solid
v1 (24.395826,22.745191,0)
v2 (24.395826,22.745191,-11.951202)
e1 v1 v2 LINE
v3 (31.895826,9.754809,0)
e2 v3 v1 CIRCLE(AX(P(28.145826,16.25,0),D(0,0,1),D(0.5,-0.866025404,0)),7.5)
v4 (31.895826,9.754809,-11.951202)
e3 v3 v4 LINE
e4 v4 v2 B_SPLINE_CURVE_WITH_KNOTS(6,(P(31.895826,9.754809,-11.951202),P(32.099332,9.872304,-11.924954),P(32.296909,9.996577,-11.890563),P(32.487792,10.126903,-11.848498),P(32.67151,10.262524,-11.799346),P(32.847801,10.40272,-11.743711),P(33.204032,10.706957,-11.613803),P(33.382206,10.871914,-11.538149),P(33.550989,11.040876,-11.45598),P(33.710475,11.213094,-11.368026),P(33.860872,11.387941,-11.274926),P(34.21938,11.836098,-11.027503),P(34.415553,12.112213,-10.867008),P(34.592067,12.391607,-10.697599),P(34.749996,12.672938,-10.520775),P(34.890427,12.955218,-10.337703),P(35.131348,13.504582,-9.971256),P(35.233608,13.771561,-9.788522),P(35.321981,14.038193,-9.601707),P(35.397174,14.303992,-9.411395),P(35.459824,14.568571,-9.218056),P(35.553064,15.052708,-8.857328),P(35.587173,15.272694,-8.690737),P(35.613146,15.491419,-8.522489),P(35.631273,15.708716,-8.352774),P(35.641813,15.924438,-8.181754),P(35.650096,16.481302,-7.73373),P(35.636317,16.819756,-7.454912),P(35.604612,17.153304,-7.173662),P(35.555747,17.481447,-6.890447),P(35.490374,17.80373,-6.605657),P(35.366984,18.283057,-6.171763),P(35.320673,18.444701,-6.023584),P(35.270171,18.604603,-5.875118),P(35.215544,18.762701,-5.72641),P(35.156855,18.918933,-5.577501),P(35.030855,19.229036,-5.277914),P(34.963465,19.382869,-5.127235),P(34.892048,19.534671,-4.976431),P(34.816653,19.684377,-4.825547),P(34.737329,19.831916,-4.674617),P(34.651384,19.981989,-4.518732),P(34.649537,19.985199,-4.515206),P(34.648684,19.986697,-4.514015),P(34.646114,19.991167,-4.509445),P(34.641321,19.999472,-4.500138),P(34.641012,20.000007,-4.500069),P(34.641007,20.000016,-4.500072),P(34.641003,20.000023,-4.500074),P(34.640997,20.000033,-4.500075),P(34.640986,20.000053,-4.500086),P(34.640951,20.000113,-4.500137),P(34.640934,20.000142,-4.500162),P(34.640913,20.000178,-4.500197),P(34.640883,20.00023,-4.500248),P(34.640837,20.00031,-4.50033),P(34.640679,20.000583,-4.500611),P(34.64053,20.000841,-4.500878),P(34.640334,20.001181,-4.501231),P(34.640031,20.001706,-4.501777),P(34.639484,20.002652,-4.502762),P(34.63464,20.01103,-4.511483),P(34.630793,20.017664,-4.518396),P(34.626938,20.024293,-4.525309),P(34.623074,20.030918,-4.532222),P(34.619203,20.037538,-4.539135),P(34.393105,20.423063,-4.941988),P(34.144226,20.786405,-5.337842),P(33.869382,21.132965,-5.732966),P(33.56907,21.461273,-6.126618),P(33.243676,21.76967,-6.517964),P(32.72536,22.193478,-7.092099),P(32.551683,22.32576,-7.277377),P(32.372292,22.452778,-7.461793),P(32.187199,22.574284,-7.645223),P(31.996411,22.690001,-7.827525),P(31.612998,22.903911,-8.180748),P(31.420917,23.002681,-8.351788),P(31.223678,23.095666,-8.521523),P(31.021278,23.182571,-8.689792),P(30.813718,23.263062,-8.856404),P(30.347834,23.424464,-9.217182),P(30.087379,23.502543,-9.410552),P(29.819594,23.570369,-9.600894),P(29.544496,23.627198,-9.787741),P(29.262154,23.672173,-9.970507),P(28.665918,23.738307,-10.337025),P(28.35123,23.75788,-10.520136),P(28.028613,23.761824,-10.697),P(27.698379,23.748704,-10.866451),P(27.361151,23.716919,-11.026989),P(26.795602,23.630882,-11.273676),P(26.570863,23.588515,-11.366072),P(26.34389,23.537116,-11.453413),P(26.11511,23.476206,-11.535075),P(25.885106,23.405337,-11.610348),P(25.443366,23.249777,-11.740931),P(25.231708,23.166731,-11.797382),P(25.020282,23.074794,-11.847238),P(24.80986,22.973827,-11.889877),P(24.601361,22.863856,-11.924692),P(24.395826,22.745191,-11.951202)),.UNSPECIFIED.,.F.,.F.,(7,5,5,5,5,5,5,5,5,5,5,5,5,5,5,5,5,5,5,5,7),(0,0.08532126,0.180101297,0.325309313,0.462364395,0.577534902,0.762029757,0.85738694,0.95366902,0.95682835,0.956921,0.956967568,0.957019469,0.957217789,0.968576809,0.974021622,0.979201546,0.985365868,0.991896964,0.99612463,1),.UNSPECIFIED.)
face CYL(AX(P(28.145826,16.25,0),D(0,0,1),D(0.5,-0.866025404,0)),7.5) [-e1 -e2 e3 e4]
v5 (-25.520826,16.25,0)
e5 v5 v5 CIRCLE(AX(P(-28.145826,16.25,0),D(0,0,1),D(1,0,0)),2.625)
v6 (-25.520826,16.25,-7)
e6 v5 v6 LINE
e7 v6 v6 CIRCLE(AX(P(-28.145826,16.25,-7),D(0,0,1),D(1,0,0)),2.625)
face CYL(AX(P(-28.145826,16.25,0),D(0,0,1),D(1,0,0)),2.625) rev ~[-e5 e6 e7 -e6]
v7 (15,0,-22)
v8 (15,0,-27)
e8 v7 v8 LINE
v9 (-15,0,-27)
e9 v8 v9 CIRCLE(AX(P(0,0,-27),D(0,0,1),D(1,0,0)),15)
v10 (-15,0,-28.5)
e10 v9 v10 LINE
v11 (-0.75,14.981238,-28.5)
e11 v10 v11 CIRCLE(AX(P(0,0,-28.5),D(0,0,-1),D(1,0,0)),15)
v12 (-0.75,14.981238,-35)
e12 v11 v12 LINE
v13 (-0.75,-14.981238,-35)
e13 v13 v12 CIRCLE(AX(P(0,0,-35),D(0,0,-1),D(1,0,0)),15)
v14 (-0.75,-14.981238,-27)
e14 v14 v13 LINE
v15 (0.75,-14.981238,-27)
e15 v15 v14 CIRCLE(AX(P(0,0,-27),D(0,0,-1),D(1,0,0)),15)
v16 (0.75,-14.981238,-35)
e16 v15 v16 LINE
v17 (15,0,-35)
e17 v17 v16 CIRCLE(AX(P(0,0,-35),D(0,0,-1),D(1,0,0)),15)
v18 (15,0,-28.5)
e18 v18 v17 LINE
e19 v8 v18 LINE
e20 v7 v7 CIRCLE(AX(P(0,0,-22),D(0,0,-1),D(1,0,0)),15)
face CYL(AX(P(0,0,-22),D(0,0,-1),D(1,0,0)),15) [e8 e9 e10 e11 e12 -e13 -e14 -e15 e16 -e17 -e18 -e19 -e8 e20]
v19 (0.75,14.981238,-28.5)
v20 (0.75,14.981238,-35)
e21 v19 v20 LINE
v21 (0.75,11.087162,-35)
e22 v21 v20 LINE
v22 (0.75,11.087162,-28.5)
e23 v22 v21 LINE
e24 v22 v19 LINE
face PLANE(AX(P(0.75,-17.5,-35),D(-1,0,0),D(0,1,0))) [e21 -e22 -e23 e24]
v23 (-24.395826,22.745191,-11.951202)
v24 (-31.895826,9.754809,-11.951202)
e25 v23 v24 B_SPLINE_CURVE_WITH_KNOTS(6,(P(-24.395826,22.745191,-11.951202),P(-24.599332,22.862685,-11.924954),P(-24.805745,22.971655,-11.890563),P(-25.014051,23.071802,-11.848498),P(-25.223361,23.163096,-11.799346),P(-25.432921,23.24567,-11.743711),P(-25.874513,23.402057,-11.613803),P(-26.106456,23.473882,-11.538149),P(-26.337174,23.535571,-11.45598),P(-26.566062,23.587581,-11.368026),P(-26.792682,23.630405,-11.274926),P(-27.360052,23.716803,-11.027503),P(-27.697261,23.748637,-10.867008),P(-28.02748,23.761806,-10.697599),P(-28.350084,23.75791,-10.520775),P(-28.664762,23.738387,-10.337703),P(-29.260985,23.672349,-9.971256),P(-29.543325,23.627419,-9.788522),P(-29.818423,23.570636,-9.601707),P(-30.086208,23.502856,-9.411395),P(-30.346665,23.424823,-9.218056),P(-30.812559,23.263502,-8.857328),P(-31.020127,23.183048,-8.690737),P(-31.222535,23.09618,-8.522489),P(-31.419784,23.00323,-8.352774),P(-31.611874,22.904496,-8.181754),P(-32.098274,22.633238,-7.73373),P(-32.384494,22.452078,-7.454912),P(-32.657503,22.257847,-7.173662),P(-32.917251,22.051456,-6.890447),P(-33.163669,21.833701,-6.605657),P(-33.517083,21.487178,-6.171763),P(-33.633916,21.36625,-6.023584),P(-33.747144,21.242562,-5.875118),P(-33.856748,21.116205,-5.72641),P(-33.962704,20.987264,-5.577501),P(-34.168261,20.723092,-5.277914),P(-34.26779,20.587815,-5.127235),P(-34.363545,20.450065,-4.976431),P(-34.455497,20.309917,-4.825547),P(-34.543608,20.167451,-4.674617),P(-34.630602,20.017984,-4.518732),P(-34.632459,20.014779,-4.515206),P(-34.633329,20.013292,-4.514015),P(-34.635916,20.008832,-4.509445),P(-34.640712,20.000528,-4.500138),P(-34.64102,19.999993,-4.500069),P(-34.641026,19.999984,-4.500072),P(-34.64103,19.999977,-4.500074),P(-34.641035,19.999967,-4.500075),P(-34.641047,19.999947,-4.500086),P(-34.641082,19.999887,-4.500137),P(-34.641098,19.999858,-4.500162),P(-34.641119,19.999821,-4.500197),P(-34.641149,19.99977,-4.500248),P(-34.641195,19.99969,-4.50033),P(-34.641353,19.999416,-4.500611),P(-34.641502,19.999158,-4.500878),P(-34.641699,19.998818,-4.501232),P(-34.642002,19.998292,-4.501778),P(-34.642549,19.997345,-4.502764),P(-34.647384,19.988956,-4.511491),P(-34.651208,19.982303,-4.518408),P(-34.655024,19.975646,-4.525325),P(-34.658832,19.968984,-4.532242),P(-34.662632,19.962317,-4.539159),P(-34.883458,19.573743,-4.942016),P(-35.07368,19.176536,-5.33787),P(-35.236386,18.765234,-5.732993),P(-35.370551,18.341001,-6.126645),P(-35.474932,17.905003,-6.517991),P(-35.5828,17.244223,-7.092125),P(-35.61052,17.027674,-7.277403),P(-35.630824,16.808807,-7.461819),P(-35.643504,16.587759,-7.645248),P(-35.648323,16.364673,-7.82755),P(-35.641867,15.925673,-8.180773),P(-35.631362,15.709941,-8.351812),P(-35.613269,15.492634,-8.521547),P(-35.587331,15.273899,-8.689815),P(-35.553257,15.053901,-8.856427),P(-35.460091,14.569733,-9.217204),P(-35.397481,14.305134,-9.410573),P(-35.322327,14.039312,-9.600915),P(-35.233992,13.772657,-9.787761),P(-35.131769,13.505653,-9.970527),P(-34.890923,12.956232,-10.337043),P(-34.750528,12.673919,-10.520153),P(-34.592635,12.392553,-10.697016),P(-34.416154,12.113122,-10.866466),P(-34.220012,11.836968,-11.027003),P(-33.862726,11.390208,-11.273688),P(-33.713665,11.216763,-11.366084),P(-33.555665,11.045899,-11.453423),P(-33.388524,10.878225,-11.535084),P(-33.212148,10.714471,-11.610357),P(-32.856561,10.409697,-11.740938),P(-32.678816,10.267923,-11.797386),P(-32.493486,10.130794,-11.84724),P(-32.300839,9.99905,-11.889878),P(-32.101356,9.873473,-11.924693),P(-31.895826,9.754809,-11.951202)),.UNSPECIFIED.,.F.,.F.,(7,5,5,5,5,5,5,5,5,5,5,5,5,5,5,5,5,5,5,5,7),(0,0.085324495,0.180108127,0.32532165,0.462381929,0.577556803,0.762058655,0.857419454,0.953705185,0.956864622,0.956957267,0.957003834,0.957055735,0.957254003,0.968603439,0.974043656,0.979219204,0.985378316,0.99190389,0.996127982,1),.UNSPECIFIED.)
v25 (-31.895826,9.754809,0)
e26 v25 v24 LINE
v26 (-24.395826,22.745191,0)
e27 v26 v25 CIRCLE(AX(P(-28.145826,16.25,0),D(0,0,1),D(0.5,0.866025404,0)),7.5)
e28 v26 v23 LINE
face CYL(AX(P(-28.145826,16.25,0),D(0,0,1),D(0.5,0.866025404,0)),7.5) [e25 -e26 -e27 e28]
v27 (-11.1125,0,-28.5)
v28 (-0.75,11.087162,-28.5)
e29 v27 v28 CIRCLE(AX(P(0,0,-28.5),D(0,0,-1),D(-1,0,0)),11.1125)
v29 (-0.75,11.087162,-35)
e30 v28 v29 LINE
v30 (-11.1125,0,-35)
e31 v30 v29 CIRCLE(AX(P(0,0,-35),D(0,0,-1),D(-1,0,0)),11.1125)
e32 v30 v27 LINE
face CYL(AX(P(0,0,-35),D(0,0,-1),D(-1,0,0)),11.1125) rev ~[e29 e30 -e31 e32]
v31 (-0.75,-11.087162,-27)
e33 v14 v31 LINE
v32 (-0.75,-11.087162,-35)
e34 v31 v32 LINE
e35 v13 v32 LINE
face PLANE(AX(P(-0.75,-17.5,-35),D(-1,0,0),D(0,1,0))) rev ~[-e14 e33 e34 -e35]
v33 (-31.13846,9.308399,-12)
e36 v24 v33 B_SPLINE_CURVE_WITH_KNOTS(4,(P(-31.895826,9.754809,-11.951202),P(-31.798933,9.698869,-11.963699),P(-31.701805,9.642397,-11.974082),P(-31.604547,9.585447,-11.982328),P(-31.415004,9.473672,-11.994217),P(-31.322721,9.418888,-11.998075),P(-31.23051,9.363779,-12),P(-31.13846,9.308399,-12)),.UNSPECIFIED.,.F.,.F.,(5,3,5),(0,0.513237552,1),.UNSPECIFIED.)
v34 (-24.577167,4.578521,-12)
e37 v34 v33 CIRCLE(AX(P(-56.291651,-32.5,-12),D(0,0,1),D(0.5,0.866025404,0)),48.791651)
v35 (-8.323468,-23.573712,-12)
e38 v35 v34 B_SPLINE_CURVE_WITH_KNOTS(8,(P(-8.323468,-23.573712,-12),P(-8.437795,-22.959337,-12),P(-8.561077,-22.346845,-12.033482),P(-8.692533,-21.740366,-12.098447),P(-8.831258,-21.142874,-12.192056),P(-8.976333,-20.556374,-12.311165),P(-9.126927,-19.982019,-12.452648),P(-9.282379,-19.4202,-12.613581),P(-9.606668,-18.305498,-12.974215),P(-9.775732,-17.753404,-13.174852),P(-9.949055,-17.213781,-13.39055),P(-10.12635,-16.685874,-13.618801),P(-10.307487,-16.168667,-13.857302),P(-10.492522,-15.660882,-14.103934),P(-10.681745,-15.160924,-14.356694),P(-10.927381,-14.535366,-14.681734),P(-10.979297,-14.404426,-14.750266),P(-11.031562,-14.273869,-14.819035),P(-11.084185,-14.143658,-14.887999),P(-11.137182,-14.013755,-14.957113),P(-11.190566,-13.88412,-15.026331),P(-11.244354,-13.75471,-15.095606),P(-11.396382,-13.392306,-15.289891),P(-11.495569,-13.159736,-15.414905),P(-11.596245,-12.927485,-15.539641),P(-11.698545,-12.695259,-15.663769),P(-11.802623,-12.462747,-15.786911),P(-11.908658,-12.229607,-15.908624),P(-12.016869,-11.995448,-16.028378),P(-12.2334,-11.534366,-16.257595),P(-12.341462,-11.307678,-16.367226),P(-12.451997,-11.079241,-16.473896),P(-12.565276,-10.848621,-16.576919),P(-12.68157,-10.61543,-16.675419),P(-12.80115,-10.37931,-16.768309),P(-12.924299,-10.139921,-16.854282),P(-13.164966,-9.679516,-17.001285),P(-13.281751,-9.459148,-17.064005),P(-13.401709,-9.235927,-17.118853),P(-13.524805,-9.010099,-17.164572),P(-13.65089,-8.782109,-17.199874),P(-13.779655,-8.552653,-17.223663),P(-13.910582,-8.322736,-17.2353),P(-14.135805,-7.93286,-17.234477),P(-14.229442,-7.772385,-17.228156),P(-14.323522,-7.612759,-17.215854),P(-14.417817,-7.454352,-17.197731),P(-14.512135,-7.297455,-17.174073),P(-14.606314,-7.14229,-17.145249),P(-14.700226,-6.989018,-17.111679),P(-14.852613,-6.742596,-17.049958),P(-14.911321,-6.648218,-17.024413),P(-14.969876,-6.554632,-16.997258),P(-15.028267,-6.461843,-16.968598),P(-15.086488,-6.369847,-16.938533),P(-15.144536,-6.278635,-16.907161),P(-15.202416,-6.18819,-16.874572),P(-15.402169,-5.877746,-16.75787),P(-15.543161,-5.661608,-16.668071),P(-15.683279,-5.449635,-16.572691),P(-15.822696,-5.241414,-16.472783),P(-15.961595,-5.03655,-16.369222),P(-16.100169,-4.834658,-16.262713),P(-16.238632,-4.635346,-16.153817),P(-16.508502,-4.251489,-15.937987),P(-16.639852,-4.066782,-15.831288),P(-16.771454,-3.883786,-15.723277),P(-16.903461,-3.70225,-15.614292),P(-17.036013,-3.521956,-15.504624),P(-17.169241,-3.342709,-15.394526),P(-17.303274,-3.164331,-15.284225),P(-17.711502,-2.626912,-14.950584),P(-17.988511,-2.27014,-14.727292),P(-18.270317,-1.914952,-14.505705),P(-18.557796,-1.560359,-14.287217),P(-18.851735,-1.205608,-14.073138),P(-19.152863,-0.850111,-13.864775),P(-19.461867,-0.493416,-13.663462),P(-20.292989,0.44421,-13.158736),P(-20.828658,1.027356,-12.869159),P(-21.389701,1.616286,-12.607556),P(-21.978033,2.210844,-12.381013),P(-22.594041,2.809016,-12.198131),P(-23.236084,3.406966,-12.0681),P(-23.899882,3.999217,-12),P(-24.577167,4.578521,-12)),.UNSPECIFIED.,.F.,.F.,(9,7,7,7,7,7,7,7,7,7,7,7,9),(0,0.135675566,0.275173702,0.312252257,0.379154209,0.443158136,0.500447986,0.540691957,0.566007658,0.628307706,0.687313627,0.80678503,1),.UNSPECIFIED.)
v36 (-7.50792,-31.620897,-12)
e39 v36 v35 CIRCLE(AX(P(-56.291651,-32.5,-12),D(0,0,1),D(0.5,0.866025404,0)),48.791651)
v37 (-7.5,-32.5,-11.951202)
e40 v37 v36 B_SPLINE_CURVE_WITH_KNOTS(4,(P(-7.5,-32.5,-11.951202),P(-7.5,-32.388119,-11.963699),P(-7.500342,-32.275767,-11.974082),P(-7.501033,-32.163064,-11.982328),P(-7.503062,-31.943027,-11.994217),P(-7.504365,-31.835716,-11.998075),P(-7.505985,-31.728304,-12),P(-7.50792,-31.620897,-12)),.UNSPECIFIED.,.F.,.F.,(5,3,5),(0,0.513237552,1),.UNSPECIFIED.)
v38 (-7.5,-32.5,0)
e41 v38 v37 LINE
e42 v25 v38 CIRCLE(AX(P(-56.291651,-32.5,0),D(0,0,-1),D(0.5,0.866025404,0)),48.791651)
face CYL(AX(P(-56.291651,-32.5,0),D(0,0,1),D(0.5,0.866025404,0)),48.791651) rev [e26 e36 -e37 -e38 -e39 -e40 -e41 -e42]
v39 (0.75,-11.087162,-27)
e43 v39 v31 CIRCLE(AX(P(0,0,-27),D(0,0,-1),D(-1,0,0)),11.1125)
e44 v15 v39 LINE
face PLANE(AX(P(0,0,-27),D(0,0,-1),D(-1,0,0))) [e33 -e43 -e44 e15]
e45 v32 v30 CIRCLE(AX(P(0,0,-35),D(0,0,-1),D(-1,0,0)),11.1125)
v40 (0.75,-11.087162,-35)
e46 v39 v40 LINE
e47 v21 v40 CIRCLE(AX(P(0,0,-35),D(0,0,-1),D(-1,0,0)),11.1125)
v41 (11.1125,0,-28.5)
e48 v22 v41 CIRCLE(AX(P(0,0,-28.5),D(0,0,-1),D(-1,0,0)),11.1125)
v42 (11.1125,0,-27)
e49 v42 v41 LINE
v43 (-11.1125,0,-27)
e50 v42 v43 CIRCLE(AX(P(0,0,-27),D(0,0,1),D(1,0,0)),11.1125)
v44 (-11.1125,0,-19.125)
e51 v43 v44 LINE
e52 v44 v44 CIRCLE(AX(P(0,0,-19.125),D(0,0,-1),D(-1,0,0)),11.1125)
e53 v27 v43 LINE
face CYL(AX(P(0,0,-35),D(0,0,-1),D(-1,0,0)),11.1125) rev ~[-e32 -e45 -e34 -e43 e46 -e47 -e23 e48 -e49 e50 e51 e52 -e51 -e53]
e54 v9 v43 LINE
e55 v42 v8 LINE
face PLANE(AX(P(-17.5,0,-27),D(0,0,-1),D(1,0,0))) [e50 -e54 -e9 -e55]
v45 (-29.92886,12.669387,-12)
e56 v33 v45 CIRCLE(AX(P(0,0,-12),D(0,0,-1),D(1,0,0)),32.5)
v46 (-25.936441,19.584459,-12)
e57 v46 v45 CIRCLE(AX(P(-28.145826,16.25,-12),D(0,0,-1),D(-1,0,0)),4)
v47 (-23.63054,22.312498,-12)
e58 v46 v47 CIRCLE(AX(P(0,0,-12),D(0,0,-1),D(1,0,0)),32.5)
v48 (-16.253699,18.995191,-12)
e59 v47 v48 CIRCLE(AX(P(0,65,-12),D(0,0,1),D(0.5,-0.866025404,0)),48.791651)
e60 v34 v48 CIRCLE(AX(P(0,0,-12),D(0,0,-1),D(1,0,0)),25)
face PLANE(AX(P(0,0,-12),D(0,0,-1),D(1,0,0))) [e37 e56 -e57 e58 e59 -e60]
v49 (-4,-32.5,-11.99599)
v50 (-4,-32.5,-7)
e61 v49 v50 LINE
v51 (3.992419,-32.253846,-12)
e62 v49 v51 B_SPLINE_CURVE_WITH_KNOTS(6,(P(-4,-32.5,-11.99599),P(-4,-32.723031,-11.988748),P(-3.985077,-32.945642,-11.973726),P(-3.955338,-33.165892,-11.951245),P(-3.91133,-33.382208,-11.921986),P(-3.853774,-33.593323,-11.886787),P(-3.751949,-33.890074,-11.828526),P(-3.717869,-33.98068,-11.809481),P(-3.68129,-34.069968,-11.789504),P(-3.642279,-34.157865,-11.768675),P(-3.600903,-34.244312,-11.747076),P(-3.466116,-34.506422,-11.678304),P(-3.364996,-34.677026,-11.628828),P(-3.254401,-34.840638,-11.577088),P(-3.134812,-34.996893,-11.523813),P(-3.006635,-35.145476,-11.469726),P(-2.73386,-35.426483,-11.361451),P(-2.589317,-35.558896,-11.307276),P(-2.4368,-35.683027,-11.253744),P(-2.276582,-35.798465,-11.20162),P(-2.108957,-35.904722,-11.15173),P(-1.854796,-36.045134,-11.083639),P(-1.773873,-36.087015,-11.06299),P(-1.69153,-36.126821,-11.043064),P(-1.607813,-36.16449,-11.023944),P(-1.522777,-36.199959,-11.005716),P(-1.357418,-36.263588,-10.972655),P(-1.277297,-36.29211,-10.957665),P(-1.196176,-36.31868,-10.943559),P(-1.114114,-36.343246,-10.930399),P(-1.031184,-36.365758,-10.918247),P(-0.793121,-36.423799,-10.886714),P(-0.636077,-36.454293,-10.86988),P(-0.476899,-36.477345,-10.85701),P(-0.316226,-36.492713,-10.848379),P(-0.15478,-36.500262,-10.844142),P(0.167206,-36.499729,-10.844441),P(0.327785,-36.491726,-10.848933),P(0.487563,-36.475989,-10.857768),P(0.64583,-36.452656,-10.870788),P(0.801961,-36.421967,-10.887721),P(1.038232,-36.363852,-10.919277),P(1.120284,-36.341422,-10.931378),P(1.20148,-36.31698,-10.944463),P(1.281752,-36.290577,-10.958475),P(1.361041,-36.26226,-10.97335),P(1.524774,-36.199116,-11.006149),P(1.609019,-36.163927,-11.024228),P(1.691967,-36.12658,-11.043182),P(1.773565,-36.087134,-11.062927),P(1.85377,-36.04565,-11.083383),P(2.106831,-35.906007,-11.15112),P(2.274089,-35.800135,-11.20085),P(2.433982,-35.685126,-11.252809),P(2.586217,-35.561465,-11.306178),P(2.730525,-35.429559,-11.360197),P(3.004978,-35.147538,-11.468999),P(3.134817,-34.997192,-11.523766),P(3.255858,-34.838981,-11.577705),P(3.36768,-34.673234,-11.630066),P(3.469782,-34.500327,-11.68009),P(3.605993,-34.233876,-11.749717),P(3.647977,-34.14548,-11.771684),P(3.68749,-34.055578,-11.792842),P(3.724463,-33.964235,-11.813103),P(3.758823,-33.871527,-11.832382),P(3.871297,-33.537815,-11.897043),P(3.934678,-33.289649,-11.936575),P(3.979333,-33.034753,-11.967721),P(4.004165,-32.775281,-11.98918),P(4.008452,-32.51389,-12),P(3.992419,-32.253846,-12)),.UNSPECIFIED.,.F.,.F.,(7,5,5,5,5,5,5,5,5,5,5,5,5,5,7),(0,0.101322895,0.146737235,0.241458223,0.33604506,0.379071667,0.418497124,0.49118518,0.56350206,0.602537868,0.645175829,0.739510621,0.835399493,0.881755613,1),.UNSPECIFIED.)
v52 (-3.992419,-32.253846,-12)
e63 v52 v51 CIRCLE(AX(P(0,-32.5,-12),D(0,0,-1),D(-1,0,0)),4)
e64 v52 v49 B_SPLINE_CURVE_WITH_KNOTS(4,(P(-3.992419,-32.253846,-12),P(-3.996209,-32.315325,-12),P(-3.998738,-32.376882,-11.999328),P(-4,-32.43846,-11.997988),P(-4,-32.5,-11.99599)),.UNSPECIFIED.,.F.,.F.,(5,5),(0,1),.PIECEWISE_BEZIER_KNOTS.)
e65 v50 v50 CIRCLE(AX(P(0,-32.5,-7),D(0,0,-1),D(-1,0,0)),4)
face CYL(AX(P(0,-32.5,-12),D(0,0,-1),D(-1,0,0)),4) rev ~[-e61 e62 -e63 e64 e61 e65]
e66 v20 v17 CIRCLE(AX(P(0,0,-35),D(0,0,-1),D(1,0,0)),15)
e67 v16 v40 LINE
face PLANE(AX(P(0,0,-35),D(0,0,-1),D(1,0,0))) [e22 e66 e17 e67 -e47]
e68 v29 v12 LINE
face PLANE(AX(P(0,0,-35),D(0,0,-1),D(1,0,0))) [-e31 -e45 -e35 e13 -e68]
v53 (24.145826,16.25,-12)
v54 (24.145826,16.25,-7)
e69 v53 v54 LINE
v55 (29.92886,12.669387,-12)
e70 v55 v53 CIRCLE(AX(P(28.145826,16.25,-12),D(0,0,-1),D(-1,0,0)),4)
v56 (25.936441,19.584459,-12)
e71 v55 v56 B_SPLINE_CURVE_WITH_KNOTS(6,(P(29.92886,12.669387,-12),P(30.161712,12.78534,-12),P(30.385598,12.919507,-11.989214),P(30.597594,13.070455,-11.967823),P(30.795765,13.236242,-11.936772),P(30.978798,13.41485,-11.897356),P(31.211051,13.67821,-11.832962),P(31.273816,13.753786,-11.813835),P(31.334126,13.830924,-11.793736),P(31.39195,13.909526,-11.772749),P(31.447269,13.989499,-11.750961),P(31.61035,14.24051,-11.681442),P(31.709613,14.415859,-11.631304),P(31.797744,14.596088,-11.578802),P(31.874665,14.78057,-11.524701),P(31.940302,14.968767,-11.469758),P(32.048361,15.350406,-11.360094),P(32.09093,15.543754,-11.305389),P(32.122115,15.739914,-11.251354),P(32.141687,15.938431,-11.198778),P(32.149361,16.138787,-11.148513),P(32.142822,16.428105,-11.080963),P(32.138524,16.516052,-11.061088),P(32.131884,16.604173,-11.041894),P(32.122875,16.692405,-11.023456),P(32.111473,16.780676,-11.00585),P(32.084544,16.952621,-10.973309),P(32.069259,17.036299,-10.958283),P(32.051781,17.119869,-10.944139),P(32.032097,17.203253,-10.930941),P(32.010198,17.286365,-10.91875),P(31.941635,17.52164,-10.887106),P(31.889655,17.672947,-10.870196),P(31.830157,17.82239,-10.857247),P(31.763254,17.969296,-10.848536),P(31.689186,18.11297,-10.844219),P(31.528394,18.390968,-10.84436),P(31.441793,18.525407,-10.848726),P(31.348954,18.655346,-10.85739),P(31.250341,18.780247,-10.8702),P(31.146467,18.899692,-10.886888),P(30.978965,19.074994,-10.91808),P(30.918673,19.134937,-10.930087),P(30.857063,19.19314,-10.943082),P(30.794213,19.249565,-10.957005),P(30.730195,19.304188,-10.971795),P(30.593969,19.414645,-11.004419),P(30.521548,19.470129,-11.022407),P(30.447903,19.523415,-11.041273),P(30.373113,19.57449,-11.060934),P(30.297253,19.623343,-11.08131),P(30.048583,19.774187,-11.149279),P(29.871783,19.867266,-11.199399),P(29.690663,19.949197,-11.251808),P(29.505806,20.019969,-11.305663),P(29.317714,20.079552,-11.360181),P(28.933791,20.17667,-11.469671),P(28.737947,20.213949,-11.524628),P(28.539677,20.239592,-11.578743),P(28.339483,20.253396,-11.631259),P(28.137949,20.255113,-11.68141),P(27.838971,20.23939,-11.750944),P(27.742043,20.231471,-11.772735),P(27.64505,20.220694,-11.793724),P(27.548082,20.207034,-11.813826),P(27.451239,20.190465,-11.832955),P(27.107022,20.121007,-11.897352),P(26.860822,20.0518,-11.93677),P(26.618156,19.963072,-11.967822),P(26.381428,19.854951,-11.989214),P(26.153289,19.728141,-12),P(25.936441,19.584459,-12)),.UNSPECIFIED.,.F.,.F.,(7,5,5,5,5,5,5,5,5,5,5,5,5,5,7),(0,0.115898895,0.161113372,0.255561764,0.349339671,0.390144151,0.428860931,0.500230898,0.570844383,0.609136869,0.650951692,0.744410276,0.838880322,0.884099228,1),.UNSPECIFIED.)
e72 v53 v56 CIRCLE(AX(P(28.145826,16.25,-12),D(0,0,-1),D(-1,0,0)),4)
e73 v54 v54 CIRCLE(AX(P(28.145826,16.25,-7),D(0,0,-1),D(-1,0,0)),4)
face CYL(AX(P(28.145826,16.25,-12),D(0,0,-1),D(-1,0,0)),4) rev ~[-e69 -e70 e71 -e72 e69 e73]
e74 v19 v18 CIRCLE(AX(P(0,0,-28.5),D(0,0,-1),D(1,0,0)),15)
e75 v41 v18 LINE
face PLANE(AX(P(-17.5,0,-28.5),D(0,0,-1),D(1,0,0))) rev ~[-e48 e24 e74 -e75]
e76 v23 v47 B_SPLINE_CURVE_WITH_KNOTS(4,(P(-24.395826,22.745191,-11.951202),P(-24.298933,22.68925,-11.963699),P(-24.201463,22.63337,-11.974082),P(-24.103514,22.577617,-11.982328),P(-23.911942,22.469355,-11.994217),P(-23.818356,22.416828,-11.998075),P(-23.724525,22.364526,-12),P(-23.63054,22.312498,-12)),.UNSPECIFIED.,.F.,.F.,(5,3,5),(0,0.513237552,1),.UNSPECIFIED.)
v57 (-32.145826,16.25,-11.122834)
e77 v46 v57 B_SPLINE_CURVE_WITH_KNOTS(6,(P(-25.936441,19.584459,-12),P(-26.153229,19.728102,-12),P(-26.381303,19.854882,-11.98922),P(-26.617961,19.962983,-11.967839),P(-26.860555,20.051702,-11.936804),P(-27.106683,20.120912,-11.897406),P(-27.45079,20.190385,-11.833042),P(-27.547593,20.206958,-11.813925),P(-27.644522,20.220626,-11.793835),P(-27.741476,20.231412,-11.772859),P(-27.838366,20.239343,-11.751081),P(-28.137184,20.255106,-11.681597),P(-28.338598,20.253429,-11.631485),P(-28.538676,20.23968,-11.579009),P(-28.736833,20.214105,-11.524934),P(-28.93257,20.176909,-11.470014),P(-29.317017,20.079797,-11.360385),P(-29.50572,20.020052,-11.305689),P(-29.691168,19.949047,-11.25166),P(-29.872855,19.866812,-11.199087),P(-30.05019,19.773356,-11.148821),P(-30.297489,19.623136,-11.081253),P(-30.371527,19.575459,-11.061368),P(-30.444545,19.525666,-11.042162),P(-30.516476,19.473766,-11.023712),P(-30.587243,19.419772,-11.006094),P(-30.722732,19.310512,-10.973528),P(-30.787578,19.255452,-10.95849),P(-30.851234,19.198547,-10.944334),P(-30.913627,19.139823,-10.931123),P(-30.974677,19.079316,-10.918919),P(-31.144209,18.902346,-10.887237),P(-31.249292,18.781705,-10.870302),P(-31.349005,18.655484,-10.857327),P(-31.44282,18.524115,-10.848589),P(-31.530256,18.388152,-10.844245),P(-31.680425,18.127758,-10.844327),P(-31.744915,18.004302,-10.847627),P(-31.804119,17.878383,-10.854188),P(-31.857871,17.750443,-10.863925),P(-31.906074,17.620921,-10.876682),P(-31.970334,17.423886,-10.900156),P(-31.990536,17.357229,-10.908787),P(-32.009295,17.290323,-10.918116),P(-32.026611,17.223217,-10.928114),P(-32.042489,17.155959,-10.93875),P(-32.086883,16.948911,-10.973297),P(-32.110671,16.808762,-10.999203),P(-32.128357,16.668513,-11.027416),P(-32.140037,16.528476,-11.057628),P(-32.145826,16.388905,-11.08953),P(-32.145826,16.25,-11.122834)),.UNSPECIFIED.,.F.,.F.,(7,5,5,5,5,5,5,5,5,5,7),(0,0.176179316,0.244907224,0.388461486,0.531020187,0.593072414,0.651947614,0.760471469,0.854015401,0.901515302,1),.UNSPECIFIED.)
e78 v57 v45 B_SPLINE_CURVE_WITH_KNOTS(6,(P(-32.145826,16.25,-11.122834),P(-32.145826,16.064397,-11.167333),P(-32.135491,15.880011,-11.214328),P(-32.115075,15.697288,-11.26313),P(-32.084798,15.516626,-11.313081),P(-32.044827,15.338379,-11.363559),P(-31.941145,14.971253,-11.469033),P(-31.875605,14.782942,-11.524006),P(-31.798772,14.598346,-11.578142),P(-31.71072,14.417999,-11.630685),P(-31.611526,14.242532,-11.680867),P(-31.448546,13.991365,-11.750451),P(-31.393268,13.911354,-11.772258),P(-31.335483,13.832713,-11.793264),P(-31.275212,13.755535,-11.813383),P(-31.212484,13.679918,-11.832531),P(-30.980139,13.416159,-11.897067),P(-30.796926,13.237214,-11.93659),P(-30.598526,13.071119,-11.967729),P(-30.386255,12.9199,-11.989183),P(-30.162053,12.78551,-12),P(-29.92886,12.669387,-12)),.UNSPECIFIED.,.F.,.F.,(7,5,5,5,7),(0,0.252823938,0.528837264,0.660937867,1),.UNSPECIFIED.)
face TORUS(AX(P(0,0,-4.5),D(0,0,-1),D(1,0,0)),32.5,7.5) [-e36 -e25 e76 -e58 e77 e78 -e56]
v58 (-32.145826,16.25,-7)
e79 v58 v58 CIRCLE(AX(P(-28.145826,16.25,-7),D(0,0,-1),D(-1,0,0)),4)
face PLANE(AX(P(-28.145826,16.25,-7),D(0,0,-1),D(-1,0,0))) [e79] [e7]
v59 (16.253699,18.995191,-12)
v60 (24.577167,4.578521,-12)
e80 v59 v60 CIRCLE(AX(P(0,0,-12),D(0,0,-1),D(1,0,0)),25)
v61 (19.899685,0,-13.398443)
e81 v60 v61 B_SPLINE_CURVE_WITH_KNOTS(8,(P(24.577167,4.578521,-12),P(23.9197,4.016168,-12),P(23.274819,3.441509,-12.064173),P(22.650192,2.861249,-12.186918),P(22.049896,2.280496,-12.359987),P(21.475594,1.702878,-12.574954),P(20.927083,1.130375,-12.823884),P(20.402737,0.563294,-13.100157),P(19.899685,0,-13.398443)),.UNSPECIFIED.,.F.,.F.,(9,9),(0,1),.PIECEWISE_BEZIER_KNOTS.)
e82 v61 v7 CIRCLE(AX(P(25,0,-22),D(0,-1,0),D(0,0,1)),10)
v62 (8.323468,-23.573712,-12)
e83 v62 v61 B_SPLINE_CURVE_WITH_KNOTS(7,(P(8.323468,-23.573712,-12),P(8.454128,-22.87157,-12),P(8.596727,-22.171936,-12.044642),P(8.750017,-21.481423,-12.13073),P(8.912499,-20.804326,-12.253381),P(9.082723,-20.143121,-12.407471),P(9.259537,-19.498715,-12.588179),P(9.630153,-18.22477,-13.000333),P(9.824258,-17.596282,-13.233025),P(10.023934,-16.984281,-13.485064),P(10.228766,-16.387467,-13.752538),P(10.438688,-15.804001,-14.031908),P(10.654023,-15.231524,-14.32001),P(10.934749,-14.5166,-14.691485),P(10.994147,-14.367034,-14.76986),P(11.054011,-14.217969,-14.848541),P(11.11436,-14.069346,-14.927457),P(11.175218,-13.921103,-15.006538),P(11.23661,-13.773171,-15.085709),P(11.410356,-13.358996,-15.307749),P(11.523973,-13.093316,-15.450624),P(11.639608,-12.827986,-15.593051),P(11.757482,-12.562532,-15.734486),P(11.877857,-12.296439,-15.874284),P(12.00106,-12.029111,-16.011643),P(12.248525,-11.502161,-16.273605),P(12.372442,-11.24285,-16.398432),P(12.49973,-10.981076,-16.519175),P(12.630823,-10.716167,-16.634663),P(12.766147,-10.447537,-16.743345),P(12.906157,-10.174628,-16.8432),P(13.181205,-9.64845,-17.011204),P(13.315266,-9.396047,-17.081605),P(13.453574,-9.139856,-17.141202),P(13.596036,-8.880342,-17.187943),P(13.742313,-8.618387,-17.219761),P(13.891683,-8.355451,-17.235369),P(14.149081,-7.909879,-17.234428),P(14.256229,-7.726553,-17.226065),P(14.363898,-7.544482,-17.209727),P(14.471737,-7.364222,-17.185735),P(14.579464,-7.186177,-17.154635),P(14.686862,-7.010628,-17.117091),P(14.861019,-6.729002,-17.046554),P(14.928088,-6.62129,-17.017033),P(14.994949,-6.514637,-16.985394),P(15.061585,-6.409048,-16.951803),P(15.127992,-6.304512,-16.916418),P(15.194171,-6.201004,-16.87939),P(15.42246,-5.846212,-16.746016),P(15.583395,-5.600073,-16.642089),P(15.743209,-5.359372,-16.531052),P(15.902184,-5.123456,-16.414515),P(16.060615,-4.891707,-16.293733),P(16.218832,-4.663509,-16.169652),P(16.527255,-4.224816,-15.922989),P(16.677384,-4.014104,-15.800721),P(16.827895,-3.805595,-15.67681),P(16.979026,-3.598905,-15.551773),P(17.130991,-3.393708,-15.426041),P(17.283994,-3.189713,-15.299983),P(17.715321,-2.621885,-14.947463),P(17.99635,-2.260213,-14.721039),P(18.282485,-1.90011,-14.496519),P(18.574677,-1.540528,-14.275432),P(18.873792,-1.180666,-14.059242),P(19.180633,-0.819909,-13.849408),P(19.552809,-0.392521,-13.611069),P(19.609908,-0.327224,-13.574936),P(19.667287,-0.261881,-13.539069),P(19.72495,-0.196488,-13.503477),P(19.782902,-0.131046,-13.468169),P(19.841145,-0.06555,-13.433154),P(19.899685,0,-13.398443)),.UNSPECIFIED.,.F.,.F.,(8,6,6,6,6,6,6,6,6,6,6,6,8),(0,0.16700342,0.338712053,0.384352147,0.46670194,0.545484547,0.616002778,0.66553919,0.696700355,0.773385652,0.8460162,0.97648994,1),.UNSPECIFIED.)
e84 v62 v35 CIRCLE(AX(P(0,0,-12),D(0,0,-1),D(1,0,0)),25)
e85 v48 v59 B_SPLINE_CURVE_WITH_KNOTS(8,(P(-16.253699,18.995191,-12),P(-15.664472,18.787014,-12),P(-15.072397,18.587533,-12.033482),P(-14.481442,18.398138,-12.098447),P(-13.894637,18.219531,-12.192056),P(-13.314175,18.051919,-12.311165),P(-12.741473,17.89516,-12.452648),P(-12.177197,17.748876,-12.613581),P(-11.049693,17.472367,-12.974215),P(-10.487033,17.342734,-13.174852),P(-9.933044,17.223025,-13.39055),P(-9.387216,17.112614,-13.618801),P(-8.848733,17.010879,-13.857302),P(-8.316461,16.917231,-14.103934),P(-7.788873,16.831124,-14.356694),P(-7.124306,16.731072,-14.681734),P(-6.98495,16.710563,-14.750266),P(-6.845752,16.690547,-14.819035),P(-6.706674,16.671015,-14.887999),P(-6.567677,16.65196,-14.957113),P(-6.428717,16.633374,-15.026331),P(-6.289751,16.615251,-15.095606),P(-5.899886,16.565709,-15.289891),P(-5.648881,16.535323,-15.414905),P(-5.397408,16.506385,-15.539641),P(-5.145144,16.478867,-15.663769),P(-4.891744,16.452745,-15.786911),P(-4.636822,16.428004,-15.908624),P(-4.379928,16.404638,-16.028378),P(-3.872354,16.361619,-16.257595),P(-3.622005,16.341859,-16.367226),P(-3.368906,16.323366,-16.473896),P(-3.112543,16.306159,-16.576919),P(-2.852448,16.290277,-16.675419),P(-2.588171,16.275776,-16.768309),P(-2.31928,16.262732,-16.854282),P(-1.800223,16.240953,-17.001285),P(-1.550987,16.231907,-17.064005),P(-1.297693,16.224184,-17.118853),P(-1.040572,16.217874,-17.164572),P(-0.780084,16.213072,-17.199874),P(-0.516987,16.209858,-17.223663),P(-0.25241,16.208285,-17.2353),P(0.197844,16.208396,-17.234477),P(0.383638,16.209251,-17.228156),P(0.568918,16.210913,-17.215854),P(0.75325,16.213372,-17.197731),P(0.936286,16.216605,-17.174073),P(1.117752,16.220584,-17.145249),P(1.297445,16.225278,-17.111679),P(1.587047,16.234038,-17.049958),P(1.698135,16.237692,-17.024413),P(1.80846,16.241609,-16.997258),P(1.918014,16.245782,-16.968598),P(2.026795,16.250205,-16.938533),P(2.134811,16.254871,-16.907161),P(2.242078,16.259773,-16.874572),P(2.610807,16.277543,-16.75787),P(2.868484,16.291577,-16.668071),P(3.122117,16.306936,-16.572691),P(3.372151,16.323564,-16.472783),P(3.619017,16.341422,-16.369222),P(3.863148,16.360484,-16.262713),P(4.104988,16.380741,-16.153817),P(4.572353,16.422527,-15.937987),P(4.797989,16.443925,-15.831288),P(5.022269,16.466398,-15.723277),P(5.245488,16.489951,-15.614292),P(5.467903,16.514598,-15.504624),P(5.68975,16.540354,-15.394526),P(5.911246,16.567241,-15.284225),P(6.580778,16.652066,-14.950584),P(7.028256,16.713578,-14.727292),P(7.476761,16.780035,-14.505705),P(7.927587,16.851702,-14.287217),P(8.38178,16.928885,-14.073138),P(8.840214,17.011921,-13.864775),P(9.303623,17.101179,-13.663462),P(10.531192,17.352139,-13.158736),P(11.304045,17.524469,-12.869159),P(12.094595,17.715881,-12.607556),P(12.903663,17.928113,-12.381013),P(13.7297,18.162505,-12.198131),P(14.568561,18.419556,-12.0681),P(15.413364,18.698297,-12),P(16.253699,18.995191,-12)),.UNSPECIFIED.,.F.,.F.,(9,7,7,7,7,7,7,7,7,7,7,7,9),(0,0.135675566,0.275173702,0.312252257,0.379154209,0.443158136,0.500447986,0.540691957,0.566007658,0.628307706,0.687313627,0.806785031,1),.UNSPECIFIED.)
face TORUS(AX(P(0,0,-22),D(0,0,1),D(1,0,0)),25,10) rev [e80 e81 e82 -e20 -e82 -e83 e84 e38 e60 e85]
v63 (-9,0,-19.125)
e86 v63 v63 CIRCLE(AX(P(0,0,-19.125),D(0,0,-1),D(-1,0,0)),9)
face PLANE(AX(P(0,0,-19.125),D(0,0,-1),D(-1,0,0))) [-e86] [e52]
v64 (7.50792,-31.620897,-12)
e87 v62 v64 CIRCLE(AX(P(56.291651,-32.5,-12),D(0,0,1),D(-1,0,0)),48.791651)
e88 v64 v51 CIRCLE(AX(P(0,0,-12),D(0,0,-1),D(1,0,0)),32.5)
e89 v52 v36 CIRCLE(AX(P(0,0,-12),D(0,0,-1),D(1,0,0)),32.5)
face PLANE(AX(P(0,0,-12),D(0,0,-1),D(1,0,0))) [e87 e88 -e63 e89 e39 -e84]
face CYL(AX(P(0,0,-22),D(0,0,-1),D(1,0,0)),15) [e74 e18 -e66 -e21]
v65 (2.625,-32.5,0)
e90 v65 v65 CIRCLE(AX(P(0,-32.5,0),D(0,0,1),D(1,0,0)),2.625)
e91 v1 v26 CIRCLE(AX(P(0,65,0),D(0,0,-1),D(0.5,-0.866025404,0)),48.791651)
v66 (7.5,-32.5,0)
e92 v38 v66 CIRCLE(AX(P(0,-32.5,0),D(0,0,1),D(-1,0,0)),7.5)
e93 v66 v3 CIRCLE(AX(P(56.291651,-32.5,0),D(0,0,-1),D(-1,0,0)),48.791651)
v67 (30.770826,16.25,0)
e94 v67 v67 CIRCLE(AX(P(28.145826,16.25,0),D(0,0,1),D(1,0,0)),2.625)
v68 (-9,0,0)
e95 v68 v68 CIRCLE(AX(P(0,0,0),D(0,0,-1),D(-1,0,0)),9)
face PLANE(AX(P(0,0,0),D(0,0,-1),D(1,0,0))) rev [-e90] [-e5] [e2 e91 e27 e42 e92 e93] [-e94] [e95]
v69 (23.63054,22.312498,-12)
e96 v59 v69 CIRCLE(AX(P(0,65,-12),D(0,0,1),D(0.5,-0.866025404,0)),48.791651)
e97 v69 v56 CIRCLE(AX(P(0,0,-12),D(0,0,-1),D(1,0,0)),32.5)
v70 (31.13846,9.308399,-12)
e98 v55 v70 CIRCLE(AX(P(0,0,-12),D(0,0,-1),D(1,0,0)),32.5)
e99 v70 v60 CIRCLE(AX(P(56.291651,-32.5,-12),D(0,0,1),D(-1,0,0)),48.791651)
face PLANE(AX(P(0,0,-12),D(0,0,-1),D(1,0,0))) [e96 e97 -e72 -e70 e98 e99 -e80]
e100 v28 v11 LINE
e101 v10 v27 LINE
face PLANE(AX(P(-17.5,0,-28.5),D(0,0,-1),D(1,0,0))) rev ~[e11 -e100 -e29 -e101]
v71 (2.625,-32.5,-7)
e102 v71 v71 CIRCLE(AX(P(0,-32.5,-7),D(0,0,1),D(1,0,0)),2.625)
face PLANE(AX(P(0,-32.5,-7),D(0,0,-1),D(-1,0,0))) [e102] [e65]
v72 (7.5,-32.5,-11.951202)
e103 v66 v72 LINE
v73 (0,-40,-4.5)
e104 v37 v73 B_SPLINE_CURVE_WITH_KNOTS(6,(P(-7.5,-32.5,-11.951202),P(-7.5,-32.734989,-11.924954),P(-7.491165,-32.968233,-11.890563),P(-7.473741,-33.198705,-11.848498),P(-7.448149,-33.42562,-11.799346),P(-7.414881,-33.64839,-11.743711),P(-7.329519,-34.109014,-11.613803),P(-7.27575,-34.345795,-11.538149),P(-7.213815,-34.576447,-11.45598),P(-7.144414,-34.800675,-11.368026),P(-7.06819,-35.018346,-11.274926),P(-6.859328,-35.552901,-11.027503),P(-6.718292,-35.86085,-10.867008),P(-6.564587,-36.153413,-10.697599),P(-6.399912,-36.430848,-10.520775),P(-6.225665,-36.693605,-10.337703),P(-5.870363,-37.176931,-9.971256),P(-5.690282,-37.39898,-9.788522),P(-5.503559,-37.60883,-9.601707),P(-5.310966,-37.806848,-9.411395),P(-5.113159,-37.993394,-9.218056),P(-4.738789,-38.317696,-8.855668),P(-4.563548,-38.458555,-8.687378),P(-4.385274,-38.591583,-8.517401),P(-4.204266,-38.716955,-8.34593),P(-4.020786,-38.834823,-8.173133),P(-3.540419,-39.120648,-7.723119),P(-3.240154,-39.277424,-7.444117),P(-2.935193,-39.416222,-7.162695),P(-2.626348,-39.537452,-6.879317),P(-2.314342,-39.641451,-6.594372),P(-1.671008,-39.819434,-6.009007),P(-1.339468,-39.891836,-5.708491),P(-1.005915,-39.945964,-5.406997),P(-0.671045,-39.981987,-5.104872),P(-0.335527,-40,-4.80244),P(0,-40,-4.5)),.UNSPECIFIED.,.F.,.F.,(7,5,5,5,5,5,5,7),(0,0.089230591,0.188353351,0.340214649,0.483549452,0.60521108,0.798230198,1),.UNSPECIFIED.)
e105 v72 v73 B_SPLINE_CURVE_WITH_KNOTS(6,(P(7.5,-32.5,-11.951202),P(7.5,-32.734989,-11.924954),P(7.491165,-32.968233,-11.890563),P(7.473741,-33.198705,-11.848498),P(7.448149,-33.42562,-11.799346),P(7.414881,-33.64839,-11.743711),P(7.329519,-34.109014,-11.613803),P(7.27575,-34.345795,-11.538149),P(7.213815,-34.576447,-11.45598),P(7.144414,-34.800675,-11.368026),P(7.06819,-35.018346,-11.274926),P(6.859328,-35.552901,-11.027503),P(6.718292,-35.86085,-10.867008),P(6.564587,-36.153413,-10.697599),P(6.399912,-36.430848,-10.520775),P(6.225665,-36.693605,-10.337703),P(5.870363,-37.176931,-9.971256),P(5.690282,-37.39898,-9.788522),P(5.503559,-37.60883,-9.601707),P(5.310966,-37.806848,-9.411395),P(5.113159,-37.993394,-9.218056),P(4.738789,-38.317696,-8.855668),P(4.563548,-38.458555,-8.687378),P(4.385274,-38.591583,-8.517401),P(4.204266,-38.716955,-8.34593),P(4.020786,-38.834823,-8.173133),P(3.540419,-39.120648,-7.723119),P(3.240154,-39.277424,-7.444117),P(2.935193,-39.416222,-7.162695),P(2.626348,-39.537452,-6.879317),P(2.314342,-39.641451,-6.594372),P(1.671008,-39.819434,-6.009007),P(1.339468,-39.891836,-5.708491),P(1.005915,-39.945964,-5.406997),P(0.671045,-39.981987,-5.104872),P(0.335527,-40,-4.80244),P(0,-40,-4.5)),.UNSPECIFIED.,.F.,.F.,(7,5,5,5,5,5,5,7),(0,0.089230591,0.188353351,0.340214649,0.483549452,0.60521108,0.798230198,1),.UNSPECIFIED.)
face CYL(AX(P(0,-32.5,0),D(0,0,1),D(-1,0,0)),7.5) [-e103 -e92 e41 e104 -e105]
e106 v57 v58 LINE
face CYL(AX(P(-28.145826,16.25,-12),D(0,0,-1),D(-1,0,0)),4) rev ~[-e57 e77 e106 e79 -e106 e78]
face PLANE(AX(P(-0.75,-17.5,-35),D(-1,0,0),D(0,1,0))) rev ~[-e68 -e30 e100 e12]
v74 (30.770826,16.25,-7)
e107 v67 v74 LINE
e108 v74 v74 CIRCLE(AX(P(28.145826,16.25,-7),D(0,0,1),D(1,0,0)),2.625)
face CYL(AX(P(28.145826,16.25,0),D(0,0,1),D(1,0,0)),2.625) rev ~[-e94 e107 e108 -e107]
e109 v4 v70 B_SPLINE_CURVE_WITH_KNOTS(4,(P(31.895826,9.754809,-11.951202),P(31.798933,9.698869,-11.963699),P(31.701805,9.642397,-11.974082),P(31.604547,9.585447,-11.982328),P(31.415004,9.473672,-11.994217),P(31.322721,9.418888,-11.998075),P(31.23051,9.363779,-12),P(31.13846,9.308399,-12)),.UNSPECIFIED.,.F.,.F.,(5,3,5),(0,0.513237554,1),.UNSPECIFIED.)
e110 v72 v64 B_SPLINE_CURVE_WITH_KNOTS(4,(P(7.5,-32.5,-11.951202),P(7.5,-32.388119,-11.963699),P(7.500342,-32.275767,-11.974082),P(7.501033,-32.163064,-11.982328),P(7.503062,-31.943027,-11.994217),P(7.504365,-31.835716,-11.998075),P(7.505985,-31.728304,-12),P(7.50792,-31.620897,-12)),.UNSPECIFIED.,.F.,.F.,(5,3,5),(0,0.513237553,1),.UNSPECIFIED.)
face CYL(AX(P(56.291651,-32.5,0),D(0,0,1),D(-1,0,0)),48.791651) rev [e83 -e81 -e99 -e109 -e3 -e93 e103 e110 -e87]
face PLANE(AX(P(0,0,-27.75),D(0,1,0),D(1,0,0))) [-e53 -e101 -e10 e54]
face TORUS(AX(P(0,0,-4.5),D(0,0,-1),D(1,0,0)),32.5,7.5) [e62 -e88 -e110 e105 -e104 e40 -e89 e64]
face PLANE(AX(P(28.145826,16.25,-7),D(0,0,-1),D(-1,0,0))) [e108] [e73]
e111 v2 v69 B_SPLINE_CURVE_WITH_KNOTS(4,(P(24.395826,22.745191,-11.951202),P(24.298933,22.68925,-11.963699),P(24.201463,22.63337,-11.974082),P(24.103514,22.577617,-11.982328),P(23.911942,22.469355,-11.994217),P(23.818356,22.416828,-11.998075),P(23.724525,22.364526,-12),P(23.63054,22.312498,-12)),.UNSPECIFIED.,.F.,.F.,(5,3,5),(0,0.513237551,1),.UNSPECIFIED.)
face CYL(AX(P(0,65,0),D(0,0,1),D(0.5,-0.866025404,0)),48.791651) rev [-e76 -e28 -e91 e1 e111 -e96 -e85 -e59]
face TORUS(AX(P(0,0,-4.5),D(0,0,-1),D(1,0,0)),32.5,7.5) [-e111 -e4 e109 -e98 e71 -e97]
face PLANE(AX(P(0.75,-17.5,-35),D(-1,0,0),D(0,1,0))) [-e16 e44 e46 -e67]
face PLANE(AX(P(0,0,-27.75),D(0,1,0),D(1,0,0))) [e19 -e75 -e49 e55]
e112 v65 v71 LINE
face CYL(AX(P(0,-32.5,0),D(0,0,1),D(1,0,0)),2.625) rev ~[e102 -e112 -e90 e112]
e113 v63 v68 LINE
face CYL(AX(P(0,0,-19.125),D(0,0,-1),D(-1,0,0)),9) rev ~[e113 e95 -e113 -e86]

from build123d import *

# Parameters (mm, degrees)
SKETCH2_R          = 11.1125
CUT_EXTRUDE1_DEPTH = 15.875
SKETCH3_W          = 35
SKETCH3_H          = 1.5
CUT_EXTRUDE2_DEPTH = 15.875
SKETCH4_W          = 1.5
SKETCH4_H          = 35
CUT_EXTRUDE3_DEPTH = 8
SKETCH8_OUTSIDE_W  = 105.686
SKETCH8_OUTSIDE_H  = 105.686
CUT_EXTRUDE4_DEPTH = 36
SKETCH9_R          = 9
CUT_EXTRUDE5_DEPTH = 20.1250001
SKETCH5_R          = 2.625
CUT_EXTRUDE7_DEPTH = 36
SKETCH11_R         = 4
CUT_EXTRUDE8_DEPTH = 5


with BuildPart() as part:
    # Sketch1 → Revolve1 (revolve)
    with BuildSketch(Plane(origin=(0, 0, 0), x_dir=(1, 0, 0), z_dir=(0, 1, 0))):
        with BuildLine():
            Line((0, 0), (40, 0))
            Line((40, 0), (40, 4.5))
            ThreePointArc((40, 4.5), (37.803300859, 9.803300859), (32.5, 12))
            Line((32.5, 12), (25, 12))
            ThreePointArc((25, 12), (17.928932188, 14.928932188), (15, 22))
            Line((15, 22), (15, 35))
            Line((15, 35), (0, 35))
            Line((0, 35), (0, 0))
        make_face()
    revolve(axis=Axis((0, 0, 0), (0, 0, -1)))

    # Sketch2 → Cut-Extrude1 (cut)
    with BuildSketch(Plane(origin=(0, 0, -35), x_dir=(-1, 0, 0), z_dir=(0, 0, -1))):
        Circle(SKETCH2_R)
    extrude(amount=-CUT_EXTRUDE1_DEPTH, mode=Mode.SUBTRACT)

    # Sketch3 → Cut-Extrude2 (cut)
    with BuildSketch(Plane(origin=(0, 0, 0), x_dir=(1, 0, 0), z_dir=(0, 1, 0))):
        with Locations((0, 27.75)):
            Rectangle(SKETCH3_W, SKETCH3_H)
    extrude(amount=CUT_EXTRUDE2_DEPTH, mode=Mode.SUBTRACT)

    # Sketch4 → Cut-Extrude3 (cut)
    with BuildSketch(Plane(origin=(0, 0, -35), x_dir=(-1, 0, 0), z_dir=(0, 0, -1))):
        Rectangle(SKETCH4_W, SKETCH4_H)
    extrude(amount=-CUT_EXTRUDE3_DEPTH, mode=Mode.SUBTRACT)

    # Sketch8 outside → Cut-Extrude4 (cut, through all)
    with BuildSketch(Plane.XY):
        Rectangle(SKETCH8_OUTSIDE_W, SKETCH8_OUTSIDE_H)
        with BuildLine():
            ThreePointArc((-24.395825623, 22.745190528), (-34.641016151, 20), (-31.895825623, 9.754809472))
            ThreePointArc((-31.895825623, 9.754809472), (-14.036841774, -8.104174377), (-7.5, -32.5))
            ThreePointArc((-7.5, -32.5), (0, -40), (7.5, -32.5))
            ThreePointArc((7.5, -32.5), (14.036841774, -8.104174377), (31.895825623, 9.754809472))
            ThreePointArc((31.895825623, 9.754809472), (34.641016151, 20), (24.395825623, 22.745190528))
            ThreePointArc((24.395825623, 22.745190528), (0, 16.208348754), (-24.395825623, 22.745190528))
        make_face(mode=Mode.SUBTRACT)
    extrude(amount=-CUT_EXTRUDE4_DEPTH, mode=Mode.SUBTRACT)

    # Sketch9 → Cut-Extrude5 (cut, through all)
    with BuildSketch(Plane(origin=(0, 0, -19.125), x_dir=(-1, 0, 0), z_dir=(0, 0, -1))):
        Circle(SKETCH9_R)
    extrude(amount=-CUT_EXTRUDE5_DEPTH, mode=Mode.SUBTRACT)

    # Sketch5 → Cut-Extrude7 (cut, through all)
    with BuildSketch(Plane.XY):
        with Locations((-28.145825623, 16.25)):
            Circle(SKETCH5_R)
        with Locations((28.145825623, 16.25)):
            Circle(SKETCH5_R)
        with Locations((0, -32.5)):
            Circle(SKETCH5_R)
    extrude(amount=-CUT_EXTRUDE7_DEPTH, mode=Mode.SUBTRACT)

    # Sketch11 → Cut-Extrude8 (cut)
    with BuildSketch(Plane(origin=(0, 0, -12), x_dir=(-1, 0, 0), z_dir=(0, 0, -1))):
        with Locations((-28.145825623, 16.25)):
            Circle(SKETCH11_R)
        with Locations((28.145825623, 16.25)):
            Circle(SKETCH11_R)
        with Locations((0, -32.5)):
            Circle(SKETCH11_R)
    extrude(amount=-CUT_EXTRUDE8_DEPTH, mode=Mode.SUBTRACT)


solid = part.part
